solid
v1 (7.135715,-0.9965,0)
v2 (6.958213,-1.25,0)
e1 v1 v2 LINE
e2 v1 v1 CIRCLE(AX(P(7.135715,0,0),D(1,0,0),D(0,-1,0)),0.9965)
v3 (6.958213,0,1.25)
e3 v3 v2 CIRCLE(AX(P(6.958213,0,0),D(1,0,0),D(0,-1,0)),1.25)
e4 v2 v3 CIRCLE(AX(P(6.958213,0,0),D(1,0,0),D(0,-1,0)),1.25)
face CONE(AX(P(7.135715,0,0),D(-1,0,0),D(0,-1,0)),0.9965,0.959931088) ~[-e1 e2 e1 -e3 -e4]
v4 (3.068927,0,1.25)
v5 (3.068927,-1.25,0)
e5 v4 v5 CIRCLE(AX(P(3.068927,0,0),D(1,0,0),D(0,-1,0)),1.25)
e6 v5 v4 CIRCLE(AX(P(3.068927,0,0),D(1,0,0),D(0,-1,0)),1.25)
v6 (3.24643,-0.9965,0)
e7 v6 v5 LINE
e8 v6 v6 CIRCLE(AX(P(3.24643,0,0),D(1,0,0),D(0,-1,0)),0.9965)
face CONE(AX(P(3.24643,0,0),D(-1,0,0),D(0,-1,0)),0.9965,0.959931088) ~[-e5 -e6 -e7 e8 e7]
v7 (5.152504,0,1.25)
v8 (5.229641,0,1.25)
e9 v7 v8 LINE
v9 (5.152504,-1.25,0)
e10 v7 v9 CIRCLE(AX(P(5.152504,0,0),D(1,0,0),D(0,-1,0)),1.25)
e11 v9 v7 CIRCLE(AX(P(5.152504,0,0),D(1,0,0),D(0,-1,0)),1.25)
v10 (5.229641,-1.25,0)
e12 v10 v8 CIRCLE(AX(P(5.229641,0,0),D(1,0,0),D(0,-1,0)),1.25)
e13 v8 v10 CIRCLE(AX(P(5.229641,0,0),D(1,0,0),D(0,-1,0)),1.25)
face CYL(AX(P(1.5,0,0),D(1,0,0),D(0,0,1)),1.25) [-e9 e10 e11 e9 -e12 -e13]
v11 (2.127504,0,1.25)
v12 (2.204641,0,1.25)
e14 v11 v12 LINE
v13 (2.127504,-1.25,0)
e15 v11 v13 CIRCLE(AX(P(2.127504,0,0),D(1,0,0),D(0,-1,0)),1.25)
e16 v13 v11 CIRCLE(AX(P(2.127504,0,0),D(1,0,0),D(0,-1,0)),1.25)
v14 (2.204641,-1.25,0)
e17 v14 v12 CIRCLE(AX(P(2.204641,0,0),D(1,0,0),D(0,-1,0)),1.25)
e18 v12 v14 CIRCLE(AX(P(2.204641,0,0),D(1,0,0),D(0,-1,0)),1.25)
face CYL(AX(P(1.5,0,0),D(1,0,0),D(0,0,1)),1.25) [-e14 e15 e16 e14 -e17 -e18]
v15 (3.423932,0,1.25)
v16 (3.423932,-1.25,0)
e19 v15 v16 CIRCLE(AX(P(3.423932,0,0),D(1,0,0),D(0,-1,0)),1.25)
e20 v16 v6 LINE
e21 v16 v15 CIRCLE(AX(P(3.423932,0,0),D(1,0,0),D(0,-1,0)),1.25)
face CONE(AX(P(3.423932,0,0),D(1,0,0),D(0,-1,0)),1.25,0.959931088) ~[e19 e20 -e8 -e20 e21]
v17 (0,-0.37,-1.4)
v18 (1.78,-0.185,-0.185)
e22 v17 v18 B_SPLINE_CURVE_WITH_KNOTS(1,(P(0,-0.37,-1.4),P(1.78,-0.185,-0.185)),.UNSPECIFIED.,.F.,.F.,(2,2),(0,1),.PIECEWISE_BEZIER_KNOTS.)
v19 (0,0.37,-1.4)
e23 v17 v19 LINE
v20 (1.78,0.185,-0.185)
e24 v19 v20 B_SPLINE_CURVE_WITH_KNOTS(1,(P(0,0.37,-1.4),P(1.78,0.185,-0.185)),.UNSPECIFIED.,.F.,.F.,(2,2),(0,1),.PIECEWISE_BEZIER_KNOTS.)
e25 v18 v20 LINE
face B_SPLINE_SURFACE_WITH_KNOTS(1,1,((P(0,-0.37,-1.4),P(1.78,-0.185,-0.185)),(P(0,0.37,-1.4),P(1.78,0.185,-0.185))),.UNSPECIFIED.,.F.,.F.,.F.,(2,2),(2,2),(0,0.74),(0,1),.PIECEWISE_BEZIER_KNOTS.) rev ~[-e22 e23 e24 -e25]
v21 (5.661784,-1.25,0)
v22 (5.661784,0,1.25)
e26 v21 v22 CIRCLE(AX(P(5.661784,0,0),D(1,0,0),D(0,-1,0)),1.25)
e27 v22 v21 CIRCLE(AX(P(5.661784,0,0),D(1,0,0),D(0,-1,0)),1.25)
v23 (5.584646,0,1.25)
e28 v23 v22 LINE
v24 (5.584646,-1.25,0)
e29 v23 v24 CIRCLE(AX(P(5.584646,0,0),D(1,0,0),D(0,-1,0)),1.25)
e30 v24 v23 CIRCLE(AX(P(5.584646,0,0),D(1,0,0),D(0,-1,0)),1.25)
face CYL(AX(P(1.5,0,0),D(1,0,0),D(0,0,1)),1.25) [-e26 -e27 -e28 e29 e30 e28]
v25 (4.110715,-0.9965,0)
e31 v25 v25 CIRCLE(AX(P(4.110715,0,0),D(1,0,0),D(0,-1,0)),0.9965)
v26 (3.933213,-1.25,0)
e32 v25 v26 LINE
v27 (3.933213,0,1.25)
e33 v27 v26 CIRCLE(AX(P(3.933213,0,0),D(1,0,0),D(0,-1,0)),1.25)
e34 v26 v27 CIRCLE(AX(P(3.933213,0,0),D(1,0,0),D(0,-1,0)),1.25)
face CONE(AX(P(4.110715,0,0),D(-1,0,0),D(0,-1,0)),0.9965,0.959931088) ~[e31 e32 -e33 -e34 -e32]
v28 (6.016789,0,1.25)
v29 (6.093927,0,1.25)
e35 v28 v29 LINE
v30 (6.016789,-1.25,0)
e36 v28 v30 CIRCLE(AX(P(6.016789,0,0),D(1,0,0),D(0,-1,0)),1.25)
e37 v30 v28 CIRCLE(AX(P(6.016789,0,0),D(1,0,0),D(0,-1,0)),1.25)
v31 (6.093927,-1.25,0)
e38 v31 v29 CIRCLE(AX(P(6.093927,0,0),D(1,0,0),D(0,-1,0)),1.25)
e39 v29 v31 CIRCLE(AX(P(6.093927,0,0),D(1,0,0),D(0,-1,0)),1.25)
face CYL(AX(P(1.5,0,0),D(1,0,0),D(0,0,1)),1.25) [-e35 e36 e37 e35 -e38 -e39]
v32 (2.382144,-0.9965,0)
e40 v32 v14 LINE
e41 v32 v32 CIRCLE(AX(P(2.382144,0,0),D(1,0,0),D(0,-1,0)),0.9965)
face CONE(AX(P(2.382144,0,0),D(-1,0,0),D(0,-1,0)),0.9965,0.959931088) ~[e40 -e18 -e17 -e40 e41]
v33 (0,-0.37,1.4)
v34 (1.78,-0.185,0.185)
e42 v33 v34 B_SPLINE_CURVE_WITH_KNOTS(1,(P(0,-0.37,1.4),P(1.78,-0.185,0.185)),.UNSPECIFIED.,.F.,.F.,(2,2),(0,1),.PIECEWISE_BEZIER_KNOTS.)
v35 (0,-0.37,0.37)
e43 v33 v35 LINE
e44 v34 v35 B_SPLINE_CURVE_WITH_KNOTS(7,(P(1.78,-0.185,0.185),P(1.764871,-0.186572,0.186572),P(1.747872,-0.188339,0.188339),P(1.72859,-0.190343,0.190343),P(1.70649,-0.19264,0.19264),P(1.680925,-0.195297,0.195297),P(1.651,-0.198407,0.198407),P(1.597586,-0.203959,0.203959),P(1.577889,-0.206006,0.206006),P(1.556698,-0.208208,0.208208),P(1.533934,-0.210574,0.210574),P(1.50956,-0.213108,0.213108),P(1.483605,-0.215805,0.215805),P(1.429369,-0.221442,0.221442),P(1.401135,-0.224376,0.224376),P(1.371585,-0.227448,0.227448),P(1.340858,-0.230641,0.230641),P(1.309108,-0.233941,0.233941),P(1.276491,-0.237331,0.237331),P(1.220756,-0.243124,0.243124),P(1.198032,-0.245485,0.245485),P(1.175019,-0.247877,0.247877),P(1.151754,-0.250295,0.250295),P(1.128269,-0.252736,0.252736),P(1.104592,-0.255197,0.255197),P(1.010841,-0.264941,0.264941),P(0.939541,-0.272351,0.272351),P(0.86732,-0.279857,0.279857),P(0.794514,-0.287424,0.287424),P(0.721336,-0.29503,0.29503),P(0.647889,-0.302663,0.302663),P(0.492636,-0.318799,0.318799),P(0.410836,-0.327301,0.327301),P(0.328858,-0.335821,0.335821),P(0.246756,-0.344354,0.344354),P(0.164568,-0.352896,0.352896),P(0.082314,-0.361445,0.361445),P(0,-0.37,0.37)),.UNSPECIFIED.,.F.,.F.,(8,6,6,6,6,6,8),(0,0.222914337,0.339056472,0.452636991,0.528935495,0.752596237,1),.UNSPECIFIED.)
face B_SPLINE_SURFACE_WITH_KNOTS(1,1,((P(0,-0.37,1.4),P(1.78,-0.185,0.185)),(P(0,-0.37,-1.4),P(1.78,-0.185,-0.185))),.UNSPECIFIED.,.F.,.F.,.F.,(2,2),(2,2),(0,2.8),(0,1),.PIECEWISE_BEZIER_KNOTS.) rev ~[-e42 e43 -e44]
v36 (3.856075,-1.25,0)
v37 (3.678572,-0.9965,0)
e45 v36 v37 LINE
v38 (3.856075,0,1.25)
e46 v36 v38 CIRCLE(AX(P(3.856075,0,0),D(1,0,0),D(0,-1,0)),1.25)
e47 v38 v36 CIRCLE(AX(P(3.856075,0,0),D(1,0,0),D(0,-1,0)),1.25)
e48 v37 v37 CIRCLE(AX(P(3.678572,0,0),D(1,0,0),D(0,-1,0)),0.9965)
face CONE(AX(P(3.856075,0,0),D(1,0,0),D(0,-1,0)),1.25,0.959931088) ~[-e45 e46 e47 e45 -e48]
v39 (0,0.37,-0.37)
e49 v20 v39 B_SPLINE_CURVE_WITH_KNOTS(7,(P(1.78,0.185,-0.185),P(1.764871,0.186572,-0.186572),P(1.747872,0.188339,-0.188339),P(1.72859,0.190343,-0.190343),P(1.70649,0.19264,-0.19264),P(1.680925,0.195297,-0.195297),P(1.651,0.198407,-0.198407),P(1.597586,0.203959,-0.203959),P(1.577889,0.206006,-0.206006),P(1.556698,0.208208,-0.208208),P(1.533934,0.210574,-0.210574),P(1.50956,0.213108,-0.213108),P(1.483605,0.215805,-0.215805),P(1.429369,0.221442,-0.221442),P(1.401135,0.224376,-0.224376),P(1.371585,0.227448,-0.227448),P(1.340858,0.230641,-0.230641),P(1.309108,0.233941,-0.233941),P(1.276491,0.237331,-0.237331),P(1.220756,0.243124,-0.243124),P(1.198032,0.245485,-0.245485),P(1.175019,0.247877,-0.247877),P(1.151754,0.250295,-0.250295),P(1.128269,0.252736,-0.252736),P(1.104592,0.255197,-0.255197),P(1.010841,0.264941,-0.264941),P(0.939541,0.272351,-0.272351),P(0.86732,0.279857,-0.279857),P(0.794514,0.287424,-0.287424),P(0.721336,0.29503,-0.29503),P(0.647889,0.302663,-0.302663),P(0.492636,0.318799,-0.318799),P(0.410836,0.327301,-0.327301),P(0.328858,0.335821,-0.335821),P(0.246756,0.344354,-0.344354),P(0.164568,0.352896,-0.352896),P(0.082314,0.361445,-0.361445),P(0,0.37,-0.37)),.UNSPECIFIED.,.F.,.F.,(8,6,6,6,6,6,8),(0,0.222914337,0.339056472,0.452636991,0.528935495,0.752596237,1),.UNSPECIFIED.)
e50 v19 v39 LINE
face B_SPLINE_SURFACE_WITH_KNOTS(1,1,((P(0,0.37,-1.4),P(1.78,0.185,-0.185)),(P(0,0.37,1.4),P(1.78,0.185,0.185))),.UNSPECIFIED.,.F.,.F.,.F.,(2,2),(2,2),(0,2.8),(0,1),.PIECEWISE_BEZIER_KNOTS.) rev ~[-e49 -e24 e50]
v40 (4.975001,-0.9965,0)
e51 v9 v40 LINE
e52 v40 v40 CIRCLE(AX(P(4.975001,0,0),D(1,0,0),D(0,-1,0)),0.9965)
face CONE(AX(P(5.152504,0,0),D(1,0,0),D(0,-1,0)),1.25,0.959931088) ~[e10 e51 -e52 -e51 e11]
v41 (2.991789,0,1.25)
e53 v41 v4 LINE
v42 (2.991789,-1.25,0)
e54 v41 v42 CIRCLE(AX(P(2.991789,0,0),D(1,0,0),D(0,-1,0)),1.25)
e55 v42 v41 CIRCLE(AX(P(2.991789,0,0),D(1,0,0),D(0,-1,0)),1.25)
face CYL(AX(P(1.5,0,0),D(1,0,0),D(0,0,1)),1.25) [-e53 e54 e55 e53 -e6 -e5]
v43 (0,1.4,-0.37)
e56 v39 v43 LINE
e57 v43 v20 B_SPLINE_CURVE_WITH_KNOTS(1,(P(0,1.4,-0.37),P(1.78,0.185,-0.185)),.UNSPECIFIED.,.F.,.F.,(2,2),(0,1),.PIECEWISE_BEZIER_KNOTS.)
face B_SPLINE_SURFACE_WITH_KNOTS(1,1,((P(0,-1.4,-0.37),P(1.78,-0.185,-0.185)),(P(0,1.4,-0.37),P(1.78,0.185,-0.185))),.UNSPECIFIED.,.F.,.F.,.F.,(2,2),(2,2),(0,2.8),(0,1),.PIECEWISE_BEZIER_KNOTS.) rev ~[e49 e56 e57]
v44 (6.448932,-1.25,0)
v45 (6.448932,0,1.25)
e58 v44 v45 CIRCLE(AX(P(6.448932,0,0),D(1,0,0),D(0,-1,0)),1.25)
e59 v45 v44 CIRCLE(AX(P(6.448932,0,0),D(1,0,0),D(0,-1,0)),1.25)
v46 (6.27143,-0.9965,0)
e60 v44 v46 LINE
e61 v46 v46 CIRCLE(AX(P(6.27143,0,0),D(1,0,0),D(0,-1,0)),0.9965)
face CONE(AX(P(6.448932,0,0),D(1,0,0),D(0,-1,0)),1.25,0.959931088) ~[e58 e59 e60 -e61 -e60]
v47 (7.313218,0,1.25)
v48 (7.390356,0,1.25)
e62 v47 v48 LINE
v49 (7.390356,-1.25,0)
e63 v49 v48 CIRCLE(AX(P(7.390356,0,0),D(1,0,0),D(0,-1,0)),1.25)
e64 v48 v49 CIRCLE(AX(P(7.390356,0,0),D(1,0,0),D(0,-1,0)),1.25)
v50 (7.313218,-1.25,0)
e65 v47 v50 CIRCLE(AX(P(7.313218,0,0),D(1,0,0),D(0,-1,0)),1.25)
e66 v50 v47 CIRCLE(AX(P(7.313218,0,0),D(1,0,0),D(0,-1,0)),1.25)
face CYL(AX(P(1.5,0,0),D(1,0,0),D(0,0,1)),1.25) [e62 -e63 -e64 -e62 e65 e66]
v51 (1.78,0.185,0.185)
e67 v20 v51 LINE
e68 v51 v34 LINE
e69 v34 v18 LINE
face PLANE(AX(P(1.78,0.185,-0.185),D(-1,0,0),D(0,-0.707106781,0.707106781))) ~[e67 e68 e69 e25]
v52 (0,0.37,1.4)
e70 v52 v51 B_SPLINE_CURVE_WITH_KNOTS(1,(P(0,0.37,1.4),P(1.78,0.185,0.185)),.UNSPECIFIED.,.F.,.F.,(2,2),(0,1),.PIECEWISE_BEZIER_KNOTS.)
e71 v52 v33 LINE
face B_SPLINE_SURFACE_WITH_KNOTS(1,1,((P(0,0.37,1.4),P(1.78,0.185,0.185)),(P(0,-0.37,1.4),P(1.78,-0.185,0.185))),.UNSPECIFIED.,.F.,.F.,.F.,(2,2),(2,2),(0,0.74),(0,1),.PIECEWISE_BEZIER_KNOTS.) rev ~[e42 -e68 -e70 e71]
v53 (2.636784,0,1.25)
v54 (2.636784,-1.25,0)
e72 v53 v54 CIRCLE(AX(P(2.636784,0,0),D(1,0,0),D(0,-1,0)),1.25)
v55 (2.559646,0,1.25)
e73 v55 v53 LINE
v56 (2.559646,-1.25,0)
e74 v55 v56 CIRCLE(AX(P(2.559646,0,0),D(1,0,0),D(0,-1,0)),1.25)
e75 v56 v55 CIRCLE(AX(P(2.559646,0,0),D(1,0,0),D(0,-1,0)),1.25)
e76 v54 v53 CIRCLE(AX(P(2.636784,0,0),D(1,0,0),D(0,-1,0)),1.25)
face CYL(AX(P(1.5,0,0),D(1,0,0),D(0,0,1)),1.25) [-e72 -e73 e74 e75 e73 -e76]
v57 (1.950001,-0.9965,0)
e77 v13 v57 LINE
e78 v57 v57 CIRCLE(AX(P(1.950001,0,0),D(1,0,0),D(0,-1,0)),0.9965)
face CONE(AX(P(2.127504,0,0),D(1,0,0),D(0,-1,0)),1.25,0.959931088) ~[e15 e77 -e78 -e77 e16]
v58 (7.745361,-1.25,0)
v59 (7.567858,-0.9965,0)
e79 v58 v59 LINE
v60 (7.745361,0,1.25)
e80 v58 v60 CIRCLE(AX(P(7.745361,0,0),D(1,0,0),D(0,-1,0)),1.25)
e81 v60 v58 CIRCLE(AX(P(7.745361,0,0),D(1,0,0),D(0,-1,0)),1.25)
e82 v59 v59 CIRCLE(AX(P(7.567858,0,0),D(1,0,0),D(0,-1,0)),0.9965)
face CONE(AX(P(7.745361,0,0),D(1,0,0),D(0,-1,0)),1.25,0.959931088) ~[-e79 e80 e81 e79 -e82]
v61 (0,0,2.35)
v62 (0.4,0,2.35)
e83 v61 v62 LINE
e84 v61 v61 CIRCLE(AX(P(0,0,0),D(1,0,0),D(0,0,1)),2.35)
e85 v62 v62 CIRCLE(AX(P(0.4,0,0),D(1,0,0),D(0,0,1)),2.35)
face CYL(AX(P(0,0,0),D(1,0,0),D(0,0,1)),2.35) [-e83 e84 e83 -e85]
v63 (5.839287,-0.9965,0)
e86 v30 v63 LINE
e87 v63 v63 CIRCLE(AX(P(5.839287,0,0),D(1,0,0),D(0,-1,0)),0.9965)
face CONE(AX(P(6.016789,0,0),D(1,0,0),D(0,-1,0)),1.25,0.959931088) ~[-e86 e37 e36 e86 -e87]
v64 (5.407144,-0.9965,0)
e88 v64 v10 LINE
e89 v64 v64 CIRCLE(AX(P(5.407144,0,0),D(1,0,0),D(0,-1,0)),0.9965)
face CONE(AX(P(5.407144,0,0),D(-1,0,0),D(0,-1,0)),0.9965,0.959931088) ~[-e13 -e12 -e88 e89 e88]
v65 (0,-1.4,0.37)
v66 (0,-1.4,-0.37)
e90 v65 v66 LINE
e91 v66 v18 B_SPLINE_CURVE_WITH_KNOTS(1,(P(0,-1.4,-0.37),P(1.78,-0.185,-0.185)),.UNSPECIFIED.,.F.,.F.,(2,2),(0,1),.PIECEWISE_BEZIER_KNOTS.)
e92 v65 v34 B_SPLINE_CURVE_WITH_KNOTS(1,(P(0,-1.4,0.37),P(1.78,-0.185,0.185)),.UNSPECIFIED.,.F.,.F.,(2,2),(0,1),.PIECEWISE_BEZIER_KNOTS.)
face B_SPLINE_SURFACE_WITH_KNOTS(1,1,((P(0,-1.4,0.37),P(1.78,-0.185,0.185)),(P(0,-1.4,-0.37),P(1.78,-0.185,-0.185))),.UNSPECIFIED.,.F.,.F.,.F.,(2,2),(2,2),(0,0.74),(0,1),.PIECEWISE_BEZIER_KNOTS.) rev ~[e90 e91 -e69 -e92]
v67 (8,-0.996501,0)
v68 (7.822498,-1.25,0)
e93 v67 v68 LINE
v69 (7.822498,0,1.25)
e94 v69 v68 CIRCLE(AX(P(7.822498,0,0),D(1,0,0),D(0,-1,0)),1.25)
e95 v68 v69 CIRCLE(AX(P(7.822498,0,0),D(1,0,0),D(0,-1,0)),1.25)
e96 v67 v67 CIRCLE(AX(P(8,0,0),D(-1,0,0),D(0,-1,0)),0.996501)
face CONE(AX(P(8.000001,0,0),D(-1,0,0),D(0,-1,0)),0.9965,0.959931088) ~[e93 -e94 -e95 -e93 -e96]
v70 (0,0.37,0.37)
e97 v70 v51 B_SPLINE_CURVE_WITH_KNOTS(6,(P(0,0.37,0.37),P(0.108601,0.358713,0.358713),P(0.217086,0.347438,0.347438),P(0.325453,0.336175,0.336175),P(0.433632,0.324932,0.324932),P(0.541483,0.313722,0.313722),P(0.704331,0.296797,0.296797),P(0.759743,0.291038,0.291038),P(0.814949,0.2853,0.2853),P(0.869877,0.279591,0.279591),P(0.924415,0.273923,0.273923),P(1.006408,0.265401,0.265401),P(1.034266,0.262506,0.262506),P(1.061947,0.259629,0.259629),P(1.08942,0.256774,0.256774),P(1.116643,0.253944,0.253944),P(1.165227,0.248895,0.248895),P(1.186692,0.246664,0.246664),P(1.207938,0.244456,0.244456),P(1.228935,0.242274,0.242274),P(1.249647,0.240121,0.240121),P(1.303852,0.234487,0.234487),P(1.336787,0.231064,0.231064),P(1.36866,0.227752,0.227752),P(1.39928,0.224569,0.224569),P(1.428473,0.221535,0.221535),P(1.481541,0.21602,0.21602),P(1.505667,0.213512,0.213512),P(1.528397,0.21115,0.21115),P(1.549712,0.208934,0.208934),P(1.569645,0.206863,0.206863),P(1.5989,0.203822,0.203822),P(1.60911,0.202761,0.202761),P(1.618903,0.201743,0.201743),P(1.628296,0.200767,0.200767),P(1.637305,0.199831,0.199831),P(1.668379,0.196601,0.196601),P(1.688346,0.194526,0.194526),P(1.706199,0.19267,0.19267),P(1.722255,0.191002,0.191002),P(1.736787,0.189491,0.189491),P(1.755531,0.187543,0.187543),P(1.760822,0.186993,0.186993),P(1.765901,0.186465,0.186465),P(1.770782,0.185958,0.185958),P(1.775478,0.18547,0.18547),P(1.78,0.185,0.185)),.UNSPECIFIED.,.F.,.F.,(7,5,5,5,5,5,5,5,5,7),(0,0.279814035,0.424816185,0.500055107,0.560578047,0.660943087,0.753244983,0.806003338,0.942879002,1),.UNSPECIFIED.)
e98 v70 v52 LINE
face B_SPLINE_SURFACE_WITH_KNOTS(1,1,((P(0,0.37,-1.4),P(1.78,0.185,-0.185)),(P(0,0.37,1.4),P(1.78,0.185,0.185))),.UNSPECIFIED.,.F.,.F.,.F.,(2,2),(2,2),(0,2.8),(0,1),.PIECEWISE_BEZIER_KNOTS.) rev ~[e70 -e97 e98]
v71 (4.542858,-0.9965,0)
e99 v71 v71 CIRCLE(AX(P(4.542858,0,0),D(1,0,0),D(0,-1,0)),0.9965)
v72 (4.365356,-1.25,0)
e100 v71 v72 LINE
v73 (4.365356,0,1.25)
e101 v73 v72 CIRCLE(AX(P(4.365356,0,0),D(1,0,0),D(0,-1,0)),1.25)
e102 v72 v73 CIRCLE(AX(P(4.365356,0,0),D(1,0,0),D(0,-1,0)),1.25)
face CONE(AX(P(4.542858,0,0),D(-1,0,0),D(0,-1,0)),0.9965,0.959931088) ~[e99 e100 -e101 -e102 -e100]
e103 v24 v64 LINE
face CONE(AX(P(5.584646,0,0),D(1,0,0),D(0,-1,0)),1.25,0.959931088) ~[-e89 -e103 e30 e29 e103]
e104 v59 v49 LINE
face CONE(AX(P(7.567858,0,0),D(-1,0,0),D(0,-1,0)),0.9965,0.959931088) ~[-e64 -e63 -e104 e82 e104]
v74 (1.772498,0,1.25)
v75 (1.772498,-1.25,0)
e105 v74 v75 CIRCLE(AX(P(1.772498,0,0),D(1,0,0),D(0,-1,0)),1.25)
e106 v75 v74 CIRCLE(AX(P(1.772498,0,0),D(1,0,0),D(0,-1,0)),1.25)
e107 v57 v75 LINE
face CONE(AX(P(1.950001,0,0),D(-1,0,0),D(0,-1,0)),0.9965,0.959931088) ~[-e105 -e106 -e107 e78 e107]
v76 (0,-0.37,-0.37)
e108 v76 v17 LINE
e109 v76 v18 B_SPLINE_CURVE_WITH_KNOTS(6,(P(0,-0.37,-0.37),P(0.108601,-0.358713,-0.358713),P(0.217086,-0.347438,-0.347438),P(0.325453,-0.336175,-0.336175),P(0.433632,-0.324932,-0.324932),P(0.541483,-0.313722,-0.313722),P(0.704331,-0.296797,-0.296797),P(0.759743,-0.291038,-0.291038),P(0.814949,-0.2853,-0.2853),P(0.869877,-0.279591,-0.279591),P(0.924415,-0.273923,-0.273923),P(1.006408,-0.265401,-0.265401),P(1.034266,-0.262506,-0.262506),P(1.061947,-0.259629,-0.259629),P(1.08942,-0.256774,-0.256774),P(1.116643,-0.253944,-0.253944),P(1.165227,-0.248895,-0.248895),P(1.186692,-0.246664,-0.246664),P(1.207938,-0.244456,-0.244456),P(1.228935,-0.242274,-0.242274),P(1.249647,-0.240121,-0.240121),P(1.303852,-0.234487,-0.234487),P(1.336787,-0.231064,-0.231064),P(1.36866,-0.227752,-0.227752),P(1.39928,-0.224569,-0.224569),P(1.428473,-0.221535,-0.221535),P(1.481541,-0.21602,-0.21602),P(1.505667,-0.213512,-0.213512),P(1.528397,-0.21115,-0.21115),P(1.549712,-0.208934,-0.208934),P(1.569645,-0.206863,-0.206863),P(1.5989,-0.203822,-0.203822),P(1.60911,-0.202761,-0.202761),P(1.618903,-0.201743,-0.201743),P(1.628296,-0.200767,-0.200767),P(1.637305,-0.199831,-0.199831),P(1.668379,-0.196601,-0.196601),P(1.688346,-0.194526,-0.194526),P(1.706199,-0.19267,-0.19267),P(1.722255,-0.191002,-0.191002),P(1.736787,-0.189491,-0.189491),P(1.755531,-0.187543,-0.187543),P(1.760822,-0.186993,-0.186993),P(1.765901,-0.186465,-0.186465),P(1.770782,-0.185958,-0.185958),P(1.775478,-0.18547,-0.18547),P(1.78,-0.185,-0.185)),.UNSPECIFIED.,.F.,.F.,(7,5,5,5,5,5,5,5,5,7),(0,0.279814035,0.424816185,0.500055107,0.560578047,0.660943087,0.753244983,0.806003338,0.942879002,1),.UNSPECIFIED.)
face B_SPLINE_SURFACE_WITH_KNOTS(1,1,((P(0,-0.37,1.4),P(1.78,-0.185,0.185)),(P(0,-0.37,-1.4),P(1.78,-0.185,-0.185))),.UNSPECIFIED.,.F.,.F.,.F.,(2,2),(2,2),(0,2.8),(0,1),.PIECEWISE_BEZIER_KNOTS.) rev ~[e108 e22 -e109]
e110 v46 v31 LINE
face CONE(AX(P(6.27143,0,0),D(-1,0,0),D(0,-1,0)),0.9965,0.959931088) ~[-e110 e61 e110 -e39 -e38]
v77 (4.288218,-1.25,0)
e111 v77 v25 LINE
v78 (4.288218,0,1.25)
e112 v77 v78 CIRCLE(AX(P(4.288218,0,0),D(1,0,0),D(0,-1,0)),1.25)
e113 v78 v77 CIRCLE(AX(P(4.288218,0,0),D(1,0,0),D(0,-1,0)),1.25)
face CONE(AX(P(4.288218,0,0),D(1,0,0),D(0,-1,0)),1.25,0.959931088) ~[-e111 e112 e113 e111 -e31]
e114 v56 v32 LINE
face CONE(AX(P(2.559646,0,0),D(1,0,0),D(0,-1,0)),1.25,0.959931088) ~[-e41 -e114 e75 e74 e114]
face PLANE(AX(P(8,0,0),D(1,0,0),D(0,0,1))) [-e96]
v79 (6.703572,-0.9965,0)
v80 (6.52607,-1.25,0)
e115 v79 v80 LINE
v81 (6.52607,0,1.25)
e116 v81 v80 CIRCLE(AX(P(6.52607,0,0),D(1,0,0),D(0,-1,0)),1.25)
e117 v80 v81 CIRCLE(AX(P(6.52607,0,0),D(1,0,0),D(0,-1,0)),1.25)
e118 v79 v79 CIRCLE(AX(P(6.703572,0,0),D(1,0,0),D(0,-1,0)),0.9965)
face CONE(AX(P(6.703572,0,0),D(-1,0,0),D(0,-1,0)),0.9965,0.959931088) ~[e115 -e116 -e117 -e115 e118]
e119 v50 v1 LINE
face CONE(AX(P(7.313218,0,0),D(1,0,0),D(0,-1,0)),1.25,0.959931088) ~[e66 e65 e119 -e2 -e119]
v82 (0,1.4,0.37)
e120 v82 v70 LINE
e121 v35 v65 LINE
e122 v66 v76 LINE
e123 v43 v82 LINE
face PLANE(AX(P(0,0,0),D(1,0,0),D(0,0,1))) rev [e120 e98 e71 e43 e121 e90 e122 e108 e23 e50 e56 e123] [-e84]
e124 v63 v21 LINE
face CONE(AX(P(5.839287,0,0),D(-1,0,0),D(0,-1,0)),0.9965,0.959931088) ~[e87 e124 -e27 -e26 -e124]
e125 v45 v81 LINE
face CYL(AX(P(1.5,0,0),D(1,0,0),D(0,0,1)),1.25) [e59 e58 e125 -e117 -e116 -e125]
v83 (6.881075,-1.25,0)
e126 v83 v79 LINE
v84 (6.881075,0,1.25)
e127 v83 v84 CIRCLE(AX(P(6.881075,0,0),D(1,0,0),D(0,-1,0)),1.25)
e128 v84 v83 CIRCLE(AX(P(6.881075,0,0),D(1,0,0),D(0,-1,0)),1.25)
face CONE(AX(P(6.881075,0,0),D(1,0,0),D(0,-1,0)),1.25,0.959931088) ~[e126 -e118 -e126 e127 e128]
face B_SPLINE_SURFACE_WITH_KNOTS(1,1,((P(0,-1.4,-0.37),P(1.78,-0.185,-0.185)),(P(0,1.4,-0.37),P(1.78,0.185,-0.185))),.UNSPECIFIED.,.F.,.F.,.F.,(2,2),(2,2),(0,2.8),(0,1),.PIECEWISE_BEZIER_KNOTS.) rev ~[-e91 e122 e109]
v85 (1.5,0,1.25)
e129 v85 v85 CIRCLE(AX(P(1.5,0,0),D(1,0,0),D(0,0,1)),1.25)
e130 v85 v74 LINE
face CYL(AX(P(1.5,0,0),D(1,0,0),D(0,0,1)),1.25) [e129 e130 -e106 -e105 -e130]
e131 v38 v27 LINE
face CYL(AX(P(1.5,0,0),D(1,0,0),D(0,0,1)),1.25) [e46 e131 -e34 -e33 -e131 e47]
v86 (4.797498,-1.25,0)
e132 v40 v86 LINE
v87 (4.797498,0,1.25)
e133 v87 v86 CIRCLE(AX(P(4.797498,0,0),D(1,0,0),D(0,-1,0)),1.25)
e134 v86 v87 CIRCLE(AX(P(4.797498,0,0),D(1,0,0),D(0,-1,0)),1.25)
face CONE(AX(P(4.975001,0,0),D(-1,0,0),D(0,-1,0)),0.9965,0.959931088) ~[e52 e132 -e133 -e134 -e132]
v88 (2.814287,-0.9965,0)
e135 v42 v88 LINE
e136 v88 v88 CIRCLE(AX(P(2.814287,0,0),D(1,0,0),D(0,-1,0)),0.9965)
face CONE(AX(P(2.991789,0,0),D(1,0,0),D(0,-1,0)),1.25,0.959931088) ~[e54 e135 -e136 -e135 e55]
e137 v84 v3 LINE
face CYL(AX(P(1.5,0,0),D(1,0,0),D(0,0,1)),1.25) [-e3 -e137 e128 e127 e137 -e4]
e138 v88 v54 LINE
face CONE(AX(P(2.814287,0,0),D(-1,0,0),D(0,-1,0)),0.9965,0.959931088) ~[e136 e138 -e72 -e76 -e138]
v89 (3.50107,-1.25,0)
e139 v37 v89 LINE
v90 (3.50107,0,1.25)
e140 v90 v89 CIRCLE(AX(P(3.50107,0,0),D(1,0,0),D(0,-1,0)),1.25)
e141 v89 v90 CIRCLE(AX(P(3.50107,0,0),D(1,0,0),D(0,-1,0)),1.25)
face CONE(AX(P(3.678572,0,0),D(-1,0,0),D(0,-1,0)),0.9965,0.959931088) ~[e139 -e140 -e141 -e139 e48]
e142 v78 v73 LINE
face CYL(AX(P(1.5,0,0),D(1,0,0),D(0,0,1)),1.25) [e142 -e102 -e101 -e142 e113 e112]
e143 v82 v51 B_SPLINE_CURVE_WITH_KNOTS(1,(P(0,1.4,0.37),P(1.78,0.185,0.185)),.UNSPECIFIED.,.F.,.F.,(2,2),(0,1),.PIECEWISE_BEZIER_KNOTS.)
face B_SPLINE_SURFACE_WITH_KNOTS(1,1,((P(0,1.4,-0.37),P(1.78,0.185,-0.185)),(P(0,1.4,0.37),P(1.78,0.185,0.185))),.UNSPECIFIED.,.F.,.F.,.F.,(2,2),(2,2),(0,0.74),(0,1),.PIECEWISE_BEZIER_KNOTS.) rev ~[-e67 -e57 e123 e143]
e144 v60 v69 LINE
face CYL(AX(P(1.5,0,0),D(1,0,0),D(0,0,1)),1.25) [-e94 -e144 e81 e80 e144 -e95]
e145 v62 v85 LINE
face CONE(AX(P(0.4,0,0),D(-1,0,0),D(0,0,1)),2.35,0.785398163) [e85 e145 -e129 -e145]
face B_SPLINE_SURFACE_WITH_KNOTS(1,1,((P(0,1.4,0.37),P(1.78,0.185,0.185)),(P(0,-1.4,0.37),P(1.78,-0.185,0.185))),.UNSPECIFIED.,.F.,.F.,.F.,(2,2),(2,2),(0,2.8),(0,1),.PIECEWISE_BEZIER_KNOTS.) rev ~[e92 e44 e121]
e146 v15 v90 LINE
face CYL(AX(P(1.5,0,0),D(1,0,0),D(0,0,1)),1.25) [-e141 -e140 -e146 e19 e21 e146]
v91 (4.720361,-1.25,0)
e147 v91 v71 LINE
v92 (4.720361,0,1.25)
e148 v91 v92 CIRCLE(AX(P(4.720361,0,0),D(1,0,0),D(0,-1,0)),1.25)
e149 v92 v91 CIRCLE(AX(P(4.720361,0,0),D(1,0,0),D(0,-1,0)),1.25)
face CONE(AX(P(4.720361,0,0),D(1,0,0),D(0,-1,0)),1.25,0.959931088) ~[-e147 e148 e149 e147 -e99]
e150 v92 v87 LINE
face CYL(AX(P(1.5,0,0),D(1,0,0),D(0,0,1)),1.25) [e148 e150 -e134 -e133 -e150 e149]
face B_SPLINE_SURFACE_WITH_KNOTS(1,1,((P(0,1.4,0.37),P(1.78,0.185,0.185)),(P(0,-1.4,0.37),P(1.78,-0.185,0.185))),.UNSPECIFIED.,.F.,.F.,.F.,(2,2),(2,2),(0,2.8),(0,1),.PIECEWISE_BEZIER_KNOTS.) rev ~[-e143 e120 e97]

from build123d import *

# Parameters (mm, degrees)
CIRPATTERN1_COUNT = 2
CIRPATTERN1_ANGLE = 90
THDSCHPAT_COUNT   = 15
THDSCHPAT_PITCH   = 0.432142857


with BuildPart() as part:
    # BodySke → Base-Revolve (revolve)
    with BuildSketch(Plane.XY, mode=Mode.PRIVATE) as base_revolve_sk:
        Polygon((0, 0), (0, 2.35), (0.4, 2.35), (1.5, 1.25), (8, 1.25), (8, 0), align=None)
    revolve(base_revolve_sk.sketch.rotate(Axis((-6.35, 0, 0), (1, 0, 0)), 90), axis=Axis((-6.35, 0, 0), (1, 0, 0)))

    # Sketch3 → Cross section 0
    with BuildSketch(Plane.ZY):
        with BuildLine():
            Line((-0.37, 1.4), (0.37, 1.4))
            Line((0.37, 1.4), (0.37, -1.4))
            Line((0.37, -1.4), (-0.37, -1.4))
            Line((-0.37, -1.4), (-0.37, 1.4))
        make_face()
    # Sketch4 → Cross section 1
    with BuildSketch(Plane.ZY.offset(-1.78)):
        with BuildLine():
            Line((-0.185, 0.185), (0.185, 0.185))
            Line((0.185, 0.185), (0.185, -0.185))
            Line((0.185, -0.185), (-0.185, -0.185))
            Line((-0.185, -0.185), (-0.185, 0.185))
        make_face()
    cross = loft(mode=Mode.SUBTRACT)

    # CirPattern1: Cross ×2 about axis
    cirpattern1_axis = Axis((0, 0, 0), (1, 0, 0))
    for i in range(1, CIRPATTERN1_COUNT):
        add(cross.rotate(cirpattern1_axis, i * CIRPATTERN1_ANGLE / (CIRPATTERN1_COUNT - 1)), mode=Mode.SUBTRACT)

    # ThdSchSke → ThreadSchematic (revolve, cut)
    with BuildSketch(Plane.XY):
        Polygon((1.950001, -0.9965), (1.772498389, -1.25), (1.772498389, -1.5625), (2.127503611, -1.5625), (2.127503611, -1.25), align=None)
    threadschematic = revolve(axis=Axis((-3.175, 0, 0), (1, 0, 0)), mode=Mode.SUBTRACT)

    # ThdSchPat: ThreadSchematic ×15
    with Locations(*[(i * THDSCHPAT_PITCH, 0, 0) for i in range(1, THDSCHPAT_COUNT)]):
        add(threadschematic, mode=Mode.SUBTRACT)


solid = part.part
